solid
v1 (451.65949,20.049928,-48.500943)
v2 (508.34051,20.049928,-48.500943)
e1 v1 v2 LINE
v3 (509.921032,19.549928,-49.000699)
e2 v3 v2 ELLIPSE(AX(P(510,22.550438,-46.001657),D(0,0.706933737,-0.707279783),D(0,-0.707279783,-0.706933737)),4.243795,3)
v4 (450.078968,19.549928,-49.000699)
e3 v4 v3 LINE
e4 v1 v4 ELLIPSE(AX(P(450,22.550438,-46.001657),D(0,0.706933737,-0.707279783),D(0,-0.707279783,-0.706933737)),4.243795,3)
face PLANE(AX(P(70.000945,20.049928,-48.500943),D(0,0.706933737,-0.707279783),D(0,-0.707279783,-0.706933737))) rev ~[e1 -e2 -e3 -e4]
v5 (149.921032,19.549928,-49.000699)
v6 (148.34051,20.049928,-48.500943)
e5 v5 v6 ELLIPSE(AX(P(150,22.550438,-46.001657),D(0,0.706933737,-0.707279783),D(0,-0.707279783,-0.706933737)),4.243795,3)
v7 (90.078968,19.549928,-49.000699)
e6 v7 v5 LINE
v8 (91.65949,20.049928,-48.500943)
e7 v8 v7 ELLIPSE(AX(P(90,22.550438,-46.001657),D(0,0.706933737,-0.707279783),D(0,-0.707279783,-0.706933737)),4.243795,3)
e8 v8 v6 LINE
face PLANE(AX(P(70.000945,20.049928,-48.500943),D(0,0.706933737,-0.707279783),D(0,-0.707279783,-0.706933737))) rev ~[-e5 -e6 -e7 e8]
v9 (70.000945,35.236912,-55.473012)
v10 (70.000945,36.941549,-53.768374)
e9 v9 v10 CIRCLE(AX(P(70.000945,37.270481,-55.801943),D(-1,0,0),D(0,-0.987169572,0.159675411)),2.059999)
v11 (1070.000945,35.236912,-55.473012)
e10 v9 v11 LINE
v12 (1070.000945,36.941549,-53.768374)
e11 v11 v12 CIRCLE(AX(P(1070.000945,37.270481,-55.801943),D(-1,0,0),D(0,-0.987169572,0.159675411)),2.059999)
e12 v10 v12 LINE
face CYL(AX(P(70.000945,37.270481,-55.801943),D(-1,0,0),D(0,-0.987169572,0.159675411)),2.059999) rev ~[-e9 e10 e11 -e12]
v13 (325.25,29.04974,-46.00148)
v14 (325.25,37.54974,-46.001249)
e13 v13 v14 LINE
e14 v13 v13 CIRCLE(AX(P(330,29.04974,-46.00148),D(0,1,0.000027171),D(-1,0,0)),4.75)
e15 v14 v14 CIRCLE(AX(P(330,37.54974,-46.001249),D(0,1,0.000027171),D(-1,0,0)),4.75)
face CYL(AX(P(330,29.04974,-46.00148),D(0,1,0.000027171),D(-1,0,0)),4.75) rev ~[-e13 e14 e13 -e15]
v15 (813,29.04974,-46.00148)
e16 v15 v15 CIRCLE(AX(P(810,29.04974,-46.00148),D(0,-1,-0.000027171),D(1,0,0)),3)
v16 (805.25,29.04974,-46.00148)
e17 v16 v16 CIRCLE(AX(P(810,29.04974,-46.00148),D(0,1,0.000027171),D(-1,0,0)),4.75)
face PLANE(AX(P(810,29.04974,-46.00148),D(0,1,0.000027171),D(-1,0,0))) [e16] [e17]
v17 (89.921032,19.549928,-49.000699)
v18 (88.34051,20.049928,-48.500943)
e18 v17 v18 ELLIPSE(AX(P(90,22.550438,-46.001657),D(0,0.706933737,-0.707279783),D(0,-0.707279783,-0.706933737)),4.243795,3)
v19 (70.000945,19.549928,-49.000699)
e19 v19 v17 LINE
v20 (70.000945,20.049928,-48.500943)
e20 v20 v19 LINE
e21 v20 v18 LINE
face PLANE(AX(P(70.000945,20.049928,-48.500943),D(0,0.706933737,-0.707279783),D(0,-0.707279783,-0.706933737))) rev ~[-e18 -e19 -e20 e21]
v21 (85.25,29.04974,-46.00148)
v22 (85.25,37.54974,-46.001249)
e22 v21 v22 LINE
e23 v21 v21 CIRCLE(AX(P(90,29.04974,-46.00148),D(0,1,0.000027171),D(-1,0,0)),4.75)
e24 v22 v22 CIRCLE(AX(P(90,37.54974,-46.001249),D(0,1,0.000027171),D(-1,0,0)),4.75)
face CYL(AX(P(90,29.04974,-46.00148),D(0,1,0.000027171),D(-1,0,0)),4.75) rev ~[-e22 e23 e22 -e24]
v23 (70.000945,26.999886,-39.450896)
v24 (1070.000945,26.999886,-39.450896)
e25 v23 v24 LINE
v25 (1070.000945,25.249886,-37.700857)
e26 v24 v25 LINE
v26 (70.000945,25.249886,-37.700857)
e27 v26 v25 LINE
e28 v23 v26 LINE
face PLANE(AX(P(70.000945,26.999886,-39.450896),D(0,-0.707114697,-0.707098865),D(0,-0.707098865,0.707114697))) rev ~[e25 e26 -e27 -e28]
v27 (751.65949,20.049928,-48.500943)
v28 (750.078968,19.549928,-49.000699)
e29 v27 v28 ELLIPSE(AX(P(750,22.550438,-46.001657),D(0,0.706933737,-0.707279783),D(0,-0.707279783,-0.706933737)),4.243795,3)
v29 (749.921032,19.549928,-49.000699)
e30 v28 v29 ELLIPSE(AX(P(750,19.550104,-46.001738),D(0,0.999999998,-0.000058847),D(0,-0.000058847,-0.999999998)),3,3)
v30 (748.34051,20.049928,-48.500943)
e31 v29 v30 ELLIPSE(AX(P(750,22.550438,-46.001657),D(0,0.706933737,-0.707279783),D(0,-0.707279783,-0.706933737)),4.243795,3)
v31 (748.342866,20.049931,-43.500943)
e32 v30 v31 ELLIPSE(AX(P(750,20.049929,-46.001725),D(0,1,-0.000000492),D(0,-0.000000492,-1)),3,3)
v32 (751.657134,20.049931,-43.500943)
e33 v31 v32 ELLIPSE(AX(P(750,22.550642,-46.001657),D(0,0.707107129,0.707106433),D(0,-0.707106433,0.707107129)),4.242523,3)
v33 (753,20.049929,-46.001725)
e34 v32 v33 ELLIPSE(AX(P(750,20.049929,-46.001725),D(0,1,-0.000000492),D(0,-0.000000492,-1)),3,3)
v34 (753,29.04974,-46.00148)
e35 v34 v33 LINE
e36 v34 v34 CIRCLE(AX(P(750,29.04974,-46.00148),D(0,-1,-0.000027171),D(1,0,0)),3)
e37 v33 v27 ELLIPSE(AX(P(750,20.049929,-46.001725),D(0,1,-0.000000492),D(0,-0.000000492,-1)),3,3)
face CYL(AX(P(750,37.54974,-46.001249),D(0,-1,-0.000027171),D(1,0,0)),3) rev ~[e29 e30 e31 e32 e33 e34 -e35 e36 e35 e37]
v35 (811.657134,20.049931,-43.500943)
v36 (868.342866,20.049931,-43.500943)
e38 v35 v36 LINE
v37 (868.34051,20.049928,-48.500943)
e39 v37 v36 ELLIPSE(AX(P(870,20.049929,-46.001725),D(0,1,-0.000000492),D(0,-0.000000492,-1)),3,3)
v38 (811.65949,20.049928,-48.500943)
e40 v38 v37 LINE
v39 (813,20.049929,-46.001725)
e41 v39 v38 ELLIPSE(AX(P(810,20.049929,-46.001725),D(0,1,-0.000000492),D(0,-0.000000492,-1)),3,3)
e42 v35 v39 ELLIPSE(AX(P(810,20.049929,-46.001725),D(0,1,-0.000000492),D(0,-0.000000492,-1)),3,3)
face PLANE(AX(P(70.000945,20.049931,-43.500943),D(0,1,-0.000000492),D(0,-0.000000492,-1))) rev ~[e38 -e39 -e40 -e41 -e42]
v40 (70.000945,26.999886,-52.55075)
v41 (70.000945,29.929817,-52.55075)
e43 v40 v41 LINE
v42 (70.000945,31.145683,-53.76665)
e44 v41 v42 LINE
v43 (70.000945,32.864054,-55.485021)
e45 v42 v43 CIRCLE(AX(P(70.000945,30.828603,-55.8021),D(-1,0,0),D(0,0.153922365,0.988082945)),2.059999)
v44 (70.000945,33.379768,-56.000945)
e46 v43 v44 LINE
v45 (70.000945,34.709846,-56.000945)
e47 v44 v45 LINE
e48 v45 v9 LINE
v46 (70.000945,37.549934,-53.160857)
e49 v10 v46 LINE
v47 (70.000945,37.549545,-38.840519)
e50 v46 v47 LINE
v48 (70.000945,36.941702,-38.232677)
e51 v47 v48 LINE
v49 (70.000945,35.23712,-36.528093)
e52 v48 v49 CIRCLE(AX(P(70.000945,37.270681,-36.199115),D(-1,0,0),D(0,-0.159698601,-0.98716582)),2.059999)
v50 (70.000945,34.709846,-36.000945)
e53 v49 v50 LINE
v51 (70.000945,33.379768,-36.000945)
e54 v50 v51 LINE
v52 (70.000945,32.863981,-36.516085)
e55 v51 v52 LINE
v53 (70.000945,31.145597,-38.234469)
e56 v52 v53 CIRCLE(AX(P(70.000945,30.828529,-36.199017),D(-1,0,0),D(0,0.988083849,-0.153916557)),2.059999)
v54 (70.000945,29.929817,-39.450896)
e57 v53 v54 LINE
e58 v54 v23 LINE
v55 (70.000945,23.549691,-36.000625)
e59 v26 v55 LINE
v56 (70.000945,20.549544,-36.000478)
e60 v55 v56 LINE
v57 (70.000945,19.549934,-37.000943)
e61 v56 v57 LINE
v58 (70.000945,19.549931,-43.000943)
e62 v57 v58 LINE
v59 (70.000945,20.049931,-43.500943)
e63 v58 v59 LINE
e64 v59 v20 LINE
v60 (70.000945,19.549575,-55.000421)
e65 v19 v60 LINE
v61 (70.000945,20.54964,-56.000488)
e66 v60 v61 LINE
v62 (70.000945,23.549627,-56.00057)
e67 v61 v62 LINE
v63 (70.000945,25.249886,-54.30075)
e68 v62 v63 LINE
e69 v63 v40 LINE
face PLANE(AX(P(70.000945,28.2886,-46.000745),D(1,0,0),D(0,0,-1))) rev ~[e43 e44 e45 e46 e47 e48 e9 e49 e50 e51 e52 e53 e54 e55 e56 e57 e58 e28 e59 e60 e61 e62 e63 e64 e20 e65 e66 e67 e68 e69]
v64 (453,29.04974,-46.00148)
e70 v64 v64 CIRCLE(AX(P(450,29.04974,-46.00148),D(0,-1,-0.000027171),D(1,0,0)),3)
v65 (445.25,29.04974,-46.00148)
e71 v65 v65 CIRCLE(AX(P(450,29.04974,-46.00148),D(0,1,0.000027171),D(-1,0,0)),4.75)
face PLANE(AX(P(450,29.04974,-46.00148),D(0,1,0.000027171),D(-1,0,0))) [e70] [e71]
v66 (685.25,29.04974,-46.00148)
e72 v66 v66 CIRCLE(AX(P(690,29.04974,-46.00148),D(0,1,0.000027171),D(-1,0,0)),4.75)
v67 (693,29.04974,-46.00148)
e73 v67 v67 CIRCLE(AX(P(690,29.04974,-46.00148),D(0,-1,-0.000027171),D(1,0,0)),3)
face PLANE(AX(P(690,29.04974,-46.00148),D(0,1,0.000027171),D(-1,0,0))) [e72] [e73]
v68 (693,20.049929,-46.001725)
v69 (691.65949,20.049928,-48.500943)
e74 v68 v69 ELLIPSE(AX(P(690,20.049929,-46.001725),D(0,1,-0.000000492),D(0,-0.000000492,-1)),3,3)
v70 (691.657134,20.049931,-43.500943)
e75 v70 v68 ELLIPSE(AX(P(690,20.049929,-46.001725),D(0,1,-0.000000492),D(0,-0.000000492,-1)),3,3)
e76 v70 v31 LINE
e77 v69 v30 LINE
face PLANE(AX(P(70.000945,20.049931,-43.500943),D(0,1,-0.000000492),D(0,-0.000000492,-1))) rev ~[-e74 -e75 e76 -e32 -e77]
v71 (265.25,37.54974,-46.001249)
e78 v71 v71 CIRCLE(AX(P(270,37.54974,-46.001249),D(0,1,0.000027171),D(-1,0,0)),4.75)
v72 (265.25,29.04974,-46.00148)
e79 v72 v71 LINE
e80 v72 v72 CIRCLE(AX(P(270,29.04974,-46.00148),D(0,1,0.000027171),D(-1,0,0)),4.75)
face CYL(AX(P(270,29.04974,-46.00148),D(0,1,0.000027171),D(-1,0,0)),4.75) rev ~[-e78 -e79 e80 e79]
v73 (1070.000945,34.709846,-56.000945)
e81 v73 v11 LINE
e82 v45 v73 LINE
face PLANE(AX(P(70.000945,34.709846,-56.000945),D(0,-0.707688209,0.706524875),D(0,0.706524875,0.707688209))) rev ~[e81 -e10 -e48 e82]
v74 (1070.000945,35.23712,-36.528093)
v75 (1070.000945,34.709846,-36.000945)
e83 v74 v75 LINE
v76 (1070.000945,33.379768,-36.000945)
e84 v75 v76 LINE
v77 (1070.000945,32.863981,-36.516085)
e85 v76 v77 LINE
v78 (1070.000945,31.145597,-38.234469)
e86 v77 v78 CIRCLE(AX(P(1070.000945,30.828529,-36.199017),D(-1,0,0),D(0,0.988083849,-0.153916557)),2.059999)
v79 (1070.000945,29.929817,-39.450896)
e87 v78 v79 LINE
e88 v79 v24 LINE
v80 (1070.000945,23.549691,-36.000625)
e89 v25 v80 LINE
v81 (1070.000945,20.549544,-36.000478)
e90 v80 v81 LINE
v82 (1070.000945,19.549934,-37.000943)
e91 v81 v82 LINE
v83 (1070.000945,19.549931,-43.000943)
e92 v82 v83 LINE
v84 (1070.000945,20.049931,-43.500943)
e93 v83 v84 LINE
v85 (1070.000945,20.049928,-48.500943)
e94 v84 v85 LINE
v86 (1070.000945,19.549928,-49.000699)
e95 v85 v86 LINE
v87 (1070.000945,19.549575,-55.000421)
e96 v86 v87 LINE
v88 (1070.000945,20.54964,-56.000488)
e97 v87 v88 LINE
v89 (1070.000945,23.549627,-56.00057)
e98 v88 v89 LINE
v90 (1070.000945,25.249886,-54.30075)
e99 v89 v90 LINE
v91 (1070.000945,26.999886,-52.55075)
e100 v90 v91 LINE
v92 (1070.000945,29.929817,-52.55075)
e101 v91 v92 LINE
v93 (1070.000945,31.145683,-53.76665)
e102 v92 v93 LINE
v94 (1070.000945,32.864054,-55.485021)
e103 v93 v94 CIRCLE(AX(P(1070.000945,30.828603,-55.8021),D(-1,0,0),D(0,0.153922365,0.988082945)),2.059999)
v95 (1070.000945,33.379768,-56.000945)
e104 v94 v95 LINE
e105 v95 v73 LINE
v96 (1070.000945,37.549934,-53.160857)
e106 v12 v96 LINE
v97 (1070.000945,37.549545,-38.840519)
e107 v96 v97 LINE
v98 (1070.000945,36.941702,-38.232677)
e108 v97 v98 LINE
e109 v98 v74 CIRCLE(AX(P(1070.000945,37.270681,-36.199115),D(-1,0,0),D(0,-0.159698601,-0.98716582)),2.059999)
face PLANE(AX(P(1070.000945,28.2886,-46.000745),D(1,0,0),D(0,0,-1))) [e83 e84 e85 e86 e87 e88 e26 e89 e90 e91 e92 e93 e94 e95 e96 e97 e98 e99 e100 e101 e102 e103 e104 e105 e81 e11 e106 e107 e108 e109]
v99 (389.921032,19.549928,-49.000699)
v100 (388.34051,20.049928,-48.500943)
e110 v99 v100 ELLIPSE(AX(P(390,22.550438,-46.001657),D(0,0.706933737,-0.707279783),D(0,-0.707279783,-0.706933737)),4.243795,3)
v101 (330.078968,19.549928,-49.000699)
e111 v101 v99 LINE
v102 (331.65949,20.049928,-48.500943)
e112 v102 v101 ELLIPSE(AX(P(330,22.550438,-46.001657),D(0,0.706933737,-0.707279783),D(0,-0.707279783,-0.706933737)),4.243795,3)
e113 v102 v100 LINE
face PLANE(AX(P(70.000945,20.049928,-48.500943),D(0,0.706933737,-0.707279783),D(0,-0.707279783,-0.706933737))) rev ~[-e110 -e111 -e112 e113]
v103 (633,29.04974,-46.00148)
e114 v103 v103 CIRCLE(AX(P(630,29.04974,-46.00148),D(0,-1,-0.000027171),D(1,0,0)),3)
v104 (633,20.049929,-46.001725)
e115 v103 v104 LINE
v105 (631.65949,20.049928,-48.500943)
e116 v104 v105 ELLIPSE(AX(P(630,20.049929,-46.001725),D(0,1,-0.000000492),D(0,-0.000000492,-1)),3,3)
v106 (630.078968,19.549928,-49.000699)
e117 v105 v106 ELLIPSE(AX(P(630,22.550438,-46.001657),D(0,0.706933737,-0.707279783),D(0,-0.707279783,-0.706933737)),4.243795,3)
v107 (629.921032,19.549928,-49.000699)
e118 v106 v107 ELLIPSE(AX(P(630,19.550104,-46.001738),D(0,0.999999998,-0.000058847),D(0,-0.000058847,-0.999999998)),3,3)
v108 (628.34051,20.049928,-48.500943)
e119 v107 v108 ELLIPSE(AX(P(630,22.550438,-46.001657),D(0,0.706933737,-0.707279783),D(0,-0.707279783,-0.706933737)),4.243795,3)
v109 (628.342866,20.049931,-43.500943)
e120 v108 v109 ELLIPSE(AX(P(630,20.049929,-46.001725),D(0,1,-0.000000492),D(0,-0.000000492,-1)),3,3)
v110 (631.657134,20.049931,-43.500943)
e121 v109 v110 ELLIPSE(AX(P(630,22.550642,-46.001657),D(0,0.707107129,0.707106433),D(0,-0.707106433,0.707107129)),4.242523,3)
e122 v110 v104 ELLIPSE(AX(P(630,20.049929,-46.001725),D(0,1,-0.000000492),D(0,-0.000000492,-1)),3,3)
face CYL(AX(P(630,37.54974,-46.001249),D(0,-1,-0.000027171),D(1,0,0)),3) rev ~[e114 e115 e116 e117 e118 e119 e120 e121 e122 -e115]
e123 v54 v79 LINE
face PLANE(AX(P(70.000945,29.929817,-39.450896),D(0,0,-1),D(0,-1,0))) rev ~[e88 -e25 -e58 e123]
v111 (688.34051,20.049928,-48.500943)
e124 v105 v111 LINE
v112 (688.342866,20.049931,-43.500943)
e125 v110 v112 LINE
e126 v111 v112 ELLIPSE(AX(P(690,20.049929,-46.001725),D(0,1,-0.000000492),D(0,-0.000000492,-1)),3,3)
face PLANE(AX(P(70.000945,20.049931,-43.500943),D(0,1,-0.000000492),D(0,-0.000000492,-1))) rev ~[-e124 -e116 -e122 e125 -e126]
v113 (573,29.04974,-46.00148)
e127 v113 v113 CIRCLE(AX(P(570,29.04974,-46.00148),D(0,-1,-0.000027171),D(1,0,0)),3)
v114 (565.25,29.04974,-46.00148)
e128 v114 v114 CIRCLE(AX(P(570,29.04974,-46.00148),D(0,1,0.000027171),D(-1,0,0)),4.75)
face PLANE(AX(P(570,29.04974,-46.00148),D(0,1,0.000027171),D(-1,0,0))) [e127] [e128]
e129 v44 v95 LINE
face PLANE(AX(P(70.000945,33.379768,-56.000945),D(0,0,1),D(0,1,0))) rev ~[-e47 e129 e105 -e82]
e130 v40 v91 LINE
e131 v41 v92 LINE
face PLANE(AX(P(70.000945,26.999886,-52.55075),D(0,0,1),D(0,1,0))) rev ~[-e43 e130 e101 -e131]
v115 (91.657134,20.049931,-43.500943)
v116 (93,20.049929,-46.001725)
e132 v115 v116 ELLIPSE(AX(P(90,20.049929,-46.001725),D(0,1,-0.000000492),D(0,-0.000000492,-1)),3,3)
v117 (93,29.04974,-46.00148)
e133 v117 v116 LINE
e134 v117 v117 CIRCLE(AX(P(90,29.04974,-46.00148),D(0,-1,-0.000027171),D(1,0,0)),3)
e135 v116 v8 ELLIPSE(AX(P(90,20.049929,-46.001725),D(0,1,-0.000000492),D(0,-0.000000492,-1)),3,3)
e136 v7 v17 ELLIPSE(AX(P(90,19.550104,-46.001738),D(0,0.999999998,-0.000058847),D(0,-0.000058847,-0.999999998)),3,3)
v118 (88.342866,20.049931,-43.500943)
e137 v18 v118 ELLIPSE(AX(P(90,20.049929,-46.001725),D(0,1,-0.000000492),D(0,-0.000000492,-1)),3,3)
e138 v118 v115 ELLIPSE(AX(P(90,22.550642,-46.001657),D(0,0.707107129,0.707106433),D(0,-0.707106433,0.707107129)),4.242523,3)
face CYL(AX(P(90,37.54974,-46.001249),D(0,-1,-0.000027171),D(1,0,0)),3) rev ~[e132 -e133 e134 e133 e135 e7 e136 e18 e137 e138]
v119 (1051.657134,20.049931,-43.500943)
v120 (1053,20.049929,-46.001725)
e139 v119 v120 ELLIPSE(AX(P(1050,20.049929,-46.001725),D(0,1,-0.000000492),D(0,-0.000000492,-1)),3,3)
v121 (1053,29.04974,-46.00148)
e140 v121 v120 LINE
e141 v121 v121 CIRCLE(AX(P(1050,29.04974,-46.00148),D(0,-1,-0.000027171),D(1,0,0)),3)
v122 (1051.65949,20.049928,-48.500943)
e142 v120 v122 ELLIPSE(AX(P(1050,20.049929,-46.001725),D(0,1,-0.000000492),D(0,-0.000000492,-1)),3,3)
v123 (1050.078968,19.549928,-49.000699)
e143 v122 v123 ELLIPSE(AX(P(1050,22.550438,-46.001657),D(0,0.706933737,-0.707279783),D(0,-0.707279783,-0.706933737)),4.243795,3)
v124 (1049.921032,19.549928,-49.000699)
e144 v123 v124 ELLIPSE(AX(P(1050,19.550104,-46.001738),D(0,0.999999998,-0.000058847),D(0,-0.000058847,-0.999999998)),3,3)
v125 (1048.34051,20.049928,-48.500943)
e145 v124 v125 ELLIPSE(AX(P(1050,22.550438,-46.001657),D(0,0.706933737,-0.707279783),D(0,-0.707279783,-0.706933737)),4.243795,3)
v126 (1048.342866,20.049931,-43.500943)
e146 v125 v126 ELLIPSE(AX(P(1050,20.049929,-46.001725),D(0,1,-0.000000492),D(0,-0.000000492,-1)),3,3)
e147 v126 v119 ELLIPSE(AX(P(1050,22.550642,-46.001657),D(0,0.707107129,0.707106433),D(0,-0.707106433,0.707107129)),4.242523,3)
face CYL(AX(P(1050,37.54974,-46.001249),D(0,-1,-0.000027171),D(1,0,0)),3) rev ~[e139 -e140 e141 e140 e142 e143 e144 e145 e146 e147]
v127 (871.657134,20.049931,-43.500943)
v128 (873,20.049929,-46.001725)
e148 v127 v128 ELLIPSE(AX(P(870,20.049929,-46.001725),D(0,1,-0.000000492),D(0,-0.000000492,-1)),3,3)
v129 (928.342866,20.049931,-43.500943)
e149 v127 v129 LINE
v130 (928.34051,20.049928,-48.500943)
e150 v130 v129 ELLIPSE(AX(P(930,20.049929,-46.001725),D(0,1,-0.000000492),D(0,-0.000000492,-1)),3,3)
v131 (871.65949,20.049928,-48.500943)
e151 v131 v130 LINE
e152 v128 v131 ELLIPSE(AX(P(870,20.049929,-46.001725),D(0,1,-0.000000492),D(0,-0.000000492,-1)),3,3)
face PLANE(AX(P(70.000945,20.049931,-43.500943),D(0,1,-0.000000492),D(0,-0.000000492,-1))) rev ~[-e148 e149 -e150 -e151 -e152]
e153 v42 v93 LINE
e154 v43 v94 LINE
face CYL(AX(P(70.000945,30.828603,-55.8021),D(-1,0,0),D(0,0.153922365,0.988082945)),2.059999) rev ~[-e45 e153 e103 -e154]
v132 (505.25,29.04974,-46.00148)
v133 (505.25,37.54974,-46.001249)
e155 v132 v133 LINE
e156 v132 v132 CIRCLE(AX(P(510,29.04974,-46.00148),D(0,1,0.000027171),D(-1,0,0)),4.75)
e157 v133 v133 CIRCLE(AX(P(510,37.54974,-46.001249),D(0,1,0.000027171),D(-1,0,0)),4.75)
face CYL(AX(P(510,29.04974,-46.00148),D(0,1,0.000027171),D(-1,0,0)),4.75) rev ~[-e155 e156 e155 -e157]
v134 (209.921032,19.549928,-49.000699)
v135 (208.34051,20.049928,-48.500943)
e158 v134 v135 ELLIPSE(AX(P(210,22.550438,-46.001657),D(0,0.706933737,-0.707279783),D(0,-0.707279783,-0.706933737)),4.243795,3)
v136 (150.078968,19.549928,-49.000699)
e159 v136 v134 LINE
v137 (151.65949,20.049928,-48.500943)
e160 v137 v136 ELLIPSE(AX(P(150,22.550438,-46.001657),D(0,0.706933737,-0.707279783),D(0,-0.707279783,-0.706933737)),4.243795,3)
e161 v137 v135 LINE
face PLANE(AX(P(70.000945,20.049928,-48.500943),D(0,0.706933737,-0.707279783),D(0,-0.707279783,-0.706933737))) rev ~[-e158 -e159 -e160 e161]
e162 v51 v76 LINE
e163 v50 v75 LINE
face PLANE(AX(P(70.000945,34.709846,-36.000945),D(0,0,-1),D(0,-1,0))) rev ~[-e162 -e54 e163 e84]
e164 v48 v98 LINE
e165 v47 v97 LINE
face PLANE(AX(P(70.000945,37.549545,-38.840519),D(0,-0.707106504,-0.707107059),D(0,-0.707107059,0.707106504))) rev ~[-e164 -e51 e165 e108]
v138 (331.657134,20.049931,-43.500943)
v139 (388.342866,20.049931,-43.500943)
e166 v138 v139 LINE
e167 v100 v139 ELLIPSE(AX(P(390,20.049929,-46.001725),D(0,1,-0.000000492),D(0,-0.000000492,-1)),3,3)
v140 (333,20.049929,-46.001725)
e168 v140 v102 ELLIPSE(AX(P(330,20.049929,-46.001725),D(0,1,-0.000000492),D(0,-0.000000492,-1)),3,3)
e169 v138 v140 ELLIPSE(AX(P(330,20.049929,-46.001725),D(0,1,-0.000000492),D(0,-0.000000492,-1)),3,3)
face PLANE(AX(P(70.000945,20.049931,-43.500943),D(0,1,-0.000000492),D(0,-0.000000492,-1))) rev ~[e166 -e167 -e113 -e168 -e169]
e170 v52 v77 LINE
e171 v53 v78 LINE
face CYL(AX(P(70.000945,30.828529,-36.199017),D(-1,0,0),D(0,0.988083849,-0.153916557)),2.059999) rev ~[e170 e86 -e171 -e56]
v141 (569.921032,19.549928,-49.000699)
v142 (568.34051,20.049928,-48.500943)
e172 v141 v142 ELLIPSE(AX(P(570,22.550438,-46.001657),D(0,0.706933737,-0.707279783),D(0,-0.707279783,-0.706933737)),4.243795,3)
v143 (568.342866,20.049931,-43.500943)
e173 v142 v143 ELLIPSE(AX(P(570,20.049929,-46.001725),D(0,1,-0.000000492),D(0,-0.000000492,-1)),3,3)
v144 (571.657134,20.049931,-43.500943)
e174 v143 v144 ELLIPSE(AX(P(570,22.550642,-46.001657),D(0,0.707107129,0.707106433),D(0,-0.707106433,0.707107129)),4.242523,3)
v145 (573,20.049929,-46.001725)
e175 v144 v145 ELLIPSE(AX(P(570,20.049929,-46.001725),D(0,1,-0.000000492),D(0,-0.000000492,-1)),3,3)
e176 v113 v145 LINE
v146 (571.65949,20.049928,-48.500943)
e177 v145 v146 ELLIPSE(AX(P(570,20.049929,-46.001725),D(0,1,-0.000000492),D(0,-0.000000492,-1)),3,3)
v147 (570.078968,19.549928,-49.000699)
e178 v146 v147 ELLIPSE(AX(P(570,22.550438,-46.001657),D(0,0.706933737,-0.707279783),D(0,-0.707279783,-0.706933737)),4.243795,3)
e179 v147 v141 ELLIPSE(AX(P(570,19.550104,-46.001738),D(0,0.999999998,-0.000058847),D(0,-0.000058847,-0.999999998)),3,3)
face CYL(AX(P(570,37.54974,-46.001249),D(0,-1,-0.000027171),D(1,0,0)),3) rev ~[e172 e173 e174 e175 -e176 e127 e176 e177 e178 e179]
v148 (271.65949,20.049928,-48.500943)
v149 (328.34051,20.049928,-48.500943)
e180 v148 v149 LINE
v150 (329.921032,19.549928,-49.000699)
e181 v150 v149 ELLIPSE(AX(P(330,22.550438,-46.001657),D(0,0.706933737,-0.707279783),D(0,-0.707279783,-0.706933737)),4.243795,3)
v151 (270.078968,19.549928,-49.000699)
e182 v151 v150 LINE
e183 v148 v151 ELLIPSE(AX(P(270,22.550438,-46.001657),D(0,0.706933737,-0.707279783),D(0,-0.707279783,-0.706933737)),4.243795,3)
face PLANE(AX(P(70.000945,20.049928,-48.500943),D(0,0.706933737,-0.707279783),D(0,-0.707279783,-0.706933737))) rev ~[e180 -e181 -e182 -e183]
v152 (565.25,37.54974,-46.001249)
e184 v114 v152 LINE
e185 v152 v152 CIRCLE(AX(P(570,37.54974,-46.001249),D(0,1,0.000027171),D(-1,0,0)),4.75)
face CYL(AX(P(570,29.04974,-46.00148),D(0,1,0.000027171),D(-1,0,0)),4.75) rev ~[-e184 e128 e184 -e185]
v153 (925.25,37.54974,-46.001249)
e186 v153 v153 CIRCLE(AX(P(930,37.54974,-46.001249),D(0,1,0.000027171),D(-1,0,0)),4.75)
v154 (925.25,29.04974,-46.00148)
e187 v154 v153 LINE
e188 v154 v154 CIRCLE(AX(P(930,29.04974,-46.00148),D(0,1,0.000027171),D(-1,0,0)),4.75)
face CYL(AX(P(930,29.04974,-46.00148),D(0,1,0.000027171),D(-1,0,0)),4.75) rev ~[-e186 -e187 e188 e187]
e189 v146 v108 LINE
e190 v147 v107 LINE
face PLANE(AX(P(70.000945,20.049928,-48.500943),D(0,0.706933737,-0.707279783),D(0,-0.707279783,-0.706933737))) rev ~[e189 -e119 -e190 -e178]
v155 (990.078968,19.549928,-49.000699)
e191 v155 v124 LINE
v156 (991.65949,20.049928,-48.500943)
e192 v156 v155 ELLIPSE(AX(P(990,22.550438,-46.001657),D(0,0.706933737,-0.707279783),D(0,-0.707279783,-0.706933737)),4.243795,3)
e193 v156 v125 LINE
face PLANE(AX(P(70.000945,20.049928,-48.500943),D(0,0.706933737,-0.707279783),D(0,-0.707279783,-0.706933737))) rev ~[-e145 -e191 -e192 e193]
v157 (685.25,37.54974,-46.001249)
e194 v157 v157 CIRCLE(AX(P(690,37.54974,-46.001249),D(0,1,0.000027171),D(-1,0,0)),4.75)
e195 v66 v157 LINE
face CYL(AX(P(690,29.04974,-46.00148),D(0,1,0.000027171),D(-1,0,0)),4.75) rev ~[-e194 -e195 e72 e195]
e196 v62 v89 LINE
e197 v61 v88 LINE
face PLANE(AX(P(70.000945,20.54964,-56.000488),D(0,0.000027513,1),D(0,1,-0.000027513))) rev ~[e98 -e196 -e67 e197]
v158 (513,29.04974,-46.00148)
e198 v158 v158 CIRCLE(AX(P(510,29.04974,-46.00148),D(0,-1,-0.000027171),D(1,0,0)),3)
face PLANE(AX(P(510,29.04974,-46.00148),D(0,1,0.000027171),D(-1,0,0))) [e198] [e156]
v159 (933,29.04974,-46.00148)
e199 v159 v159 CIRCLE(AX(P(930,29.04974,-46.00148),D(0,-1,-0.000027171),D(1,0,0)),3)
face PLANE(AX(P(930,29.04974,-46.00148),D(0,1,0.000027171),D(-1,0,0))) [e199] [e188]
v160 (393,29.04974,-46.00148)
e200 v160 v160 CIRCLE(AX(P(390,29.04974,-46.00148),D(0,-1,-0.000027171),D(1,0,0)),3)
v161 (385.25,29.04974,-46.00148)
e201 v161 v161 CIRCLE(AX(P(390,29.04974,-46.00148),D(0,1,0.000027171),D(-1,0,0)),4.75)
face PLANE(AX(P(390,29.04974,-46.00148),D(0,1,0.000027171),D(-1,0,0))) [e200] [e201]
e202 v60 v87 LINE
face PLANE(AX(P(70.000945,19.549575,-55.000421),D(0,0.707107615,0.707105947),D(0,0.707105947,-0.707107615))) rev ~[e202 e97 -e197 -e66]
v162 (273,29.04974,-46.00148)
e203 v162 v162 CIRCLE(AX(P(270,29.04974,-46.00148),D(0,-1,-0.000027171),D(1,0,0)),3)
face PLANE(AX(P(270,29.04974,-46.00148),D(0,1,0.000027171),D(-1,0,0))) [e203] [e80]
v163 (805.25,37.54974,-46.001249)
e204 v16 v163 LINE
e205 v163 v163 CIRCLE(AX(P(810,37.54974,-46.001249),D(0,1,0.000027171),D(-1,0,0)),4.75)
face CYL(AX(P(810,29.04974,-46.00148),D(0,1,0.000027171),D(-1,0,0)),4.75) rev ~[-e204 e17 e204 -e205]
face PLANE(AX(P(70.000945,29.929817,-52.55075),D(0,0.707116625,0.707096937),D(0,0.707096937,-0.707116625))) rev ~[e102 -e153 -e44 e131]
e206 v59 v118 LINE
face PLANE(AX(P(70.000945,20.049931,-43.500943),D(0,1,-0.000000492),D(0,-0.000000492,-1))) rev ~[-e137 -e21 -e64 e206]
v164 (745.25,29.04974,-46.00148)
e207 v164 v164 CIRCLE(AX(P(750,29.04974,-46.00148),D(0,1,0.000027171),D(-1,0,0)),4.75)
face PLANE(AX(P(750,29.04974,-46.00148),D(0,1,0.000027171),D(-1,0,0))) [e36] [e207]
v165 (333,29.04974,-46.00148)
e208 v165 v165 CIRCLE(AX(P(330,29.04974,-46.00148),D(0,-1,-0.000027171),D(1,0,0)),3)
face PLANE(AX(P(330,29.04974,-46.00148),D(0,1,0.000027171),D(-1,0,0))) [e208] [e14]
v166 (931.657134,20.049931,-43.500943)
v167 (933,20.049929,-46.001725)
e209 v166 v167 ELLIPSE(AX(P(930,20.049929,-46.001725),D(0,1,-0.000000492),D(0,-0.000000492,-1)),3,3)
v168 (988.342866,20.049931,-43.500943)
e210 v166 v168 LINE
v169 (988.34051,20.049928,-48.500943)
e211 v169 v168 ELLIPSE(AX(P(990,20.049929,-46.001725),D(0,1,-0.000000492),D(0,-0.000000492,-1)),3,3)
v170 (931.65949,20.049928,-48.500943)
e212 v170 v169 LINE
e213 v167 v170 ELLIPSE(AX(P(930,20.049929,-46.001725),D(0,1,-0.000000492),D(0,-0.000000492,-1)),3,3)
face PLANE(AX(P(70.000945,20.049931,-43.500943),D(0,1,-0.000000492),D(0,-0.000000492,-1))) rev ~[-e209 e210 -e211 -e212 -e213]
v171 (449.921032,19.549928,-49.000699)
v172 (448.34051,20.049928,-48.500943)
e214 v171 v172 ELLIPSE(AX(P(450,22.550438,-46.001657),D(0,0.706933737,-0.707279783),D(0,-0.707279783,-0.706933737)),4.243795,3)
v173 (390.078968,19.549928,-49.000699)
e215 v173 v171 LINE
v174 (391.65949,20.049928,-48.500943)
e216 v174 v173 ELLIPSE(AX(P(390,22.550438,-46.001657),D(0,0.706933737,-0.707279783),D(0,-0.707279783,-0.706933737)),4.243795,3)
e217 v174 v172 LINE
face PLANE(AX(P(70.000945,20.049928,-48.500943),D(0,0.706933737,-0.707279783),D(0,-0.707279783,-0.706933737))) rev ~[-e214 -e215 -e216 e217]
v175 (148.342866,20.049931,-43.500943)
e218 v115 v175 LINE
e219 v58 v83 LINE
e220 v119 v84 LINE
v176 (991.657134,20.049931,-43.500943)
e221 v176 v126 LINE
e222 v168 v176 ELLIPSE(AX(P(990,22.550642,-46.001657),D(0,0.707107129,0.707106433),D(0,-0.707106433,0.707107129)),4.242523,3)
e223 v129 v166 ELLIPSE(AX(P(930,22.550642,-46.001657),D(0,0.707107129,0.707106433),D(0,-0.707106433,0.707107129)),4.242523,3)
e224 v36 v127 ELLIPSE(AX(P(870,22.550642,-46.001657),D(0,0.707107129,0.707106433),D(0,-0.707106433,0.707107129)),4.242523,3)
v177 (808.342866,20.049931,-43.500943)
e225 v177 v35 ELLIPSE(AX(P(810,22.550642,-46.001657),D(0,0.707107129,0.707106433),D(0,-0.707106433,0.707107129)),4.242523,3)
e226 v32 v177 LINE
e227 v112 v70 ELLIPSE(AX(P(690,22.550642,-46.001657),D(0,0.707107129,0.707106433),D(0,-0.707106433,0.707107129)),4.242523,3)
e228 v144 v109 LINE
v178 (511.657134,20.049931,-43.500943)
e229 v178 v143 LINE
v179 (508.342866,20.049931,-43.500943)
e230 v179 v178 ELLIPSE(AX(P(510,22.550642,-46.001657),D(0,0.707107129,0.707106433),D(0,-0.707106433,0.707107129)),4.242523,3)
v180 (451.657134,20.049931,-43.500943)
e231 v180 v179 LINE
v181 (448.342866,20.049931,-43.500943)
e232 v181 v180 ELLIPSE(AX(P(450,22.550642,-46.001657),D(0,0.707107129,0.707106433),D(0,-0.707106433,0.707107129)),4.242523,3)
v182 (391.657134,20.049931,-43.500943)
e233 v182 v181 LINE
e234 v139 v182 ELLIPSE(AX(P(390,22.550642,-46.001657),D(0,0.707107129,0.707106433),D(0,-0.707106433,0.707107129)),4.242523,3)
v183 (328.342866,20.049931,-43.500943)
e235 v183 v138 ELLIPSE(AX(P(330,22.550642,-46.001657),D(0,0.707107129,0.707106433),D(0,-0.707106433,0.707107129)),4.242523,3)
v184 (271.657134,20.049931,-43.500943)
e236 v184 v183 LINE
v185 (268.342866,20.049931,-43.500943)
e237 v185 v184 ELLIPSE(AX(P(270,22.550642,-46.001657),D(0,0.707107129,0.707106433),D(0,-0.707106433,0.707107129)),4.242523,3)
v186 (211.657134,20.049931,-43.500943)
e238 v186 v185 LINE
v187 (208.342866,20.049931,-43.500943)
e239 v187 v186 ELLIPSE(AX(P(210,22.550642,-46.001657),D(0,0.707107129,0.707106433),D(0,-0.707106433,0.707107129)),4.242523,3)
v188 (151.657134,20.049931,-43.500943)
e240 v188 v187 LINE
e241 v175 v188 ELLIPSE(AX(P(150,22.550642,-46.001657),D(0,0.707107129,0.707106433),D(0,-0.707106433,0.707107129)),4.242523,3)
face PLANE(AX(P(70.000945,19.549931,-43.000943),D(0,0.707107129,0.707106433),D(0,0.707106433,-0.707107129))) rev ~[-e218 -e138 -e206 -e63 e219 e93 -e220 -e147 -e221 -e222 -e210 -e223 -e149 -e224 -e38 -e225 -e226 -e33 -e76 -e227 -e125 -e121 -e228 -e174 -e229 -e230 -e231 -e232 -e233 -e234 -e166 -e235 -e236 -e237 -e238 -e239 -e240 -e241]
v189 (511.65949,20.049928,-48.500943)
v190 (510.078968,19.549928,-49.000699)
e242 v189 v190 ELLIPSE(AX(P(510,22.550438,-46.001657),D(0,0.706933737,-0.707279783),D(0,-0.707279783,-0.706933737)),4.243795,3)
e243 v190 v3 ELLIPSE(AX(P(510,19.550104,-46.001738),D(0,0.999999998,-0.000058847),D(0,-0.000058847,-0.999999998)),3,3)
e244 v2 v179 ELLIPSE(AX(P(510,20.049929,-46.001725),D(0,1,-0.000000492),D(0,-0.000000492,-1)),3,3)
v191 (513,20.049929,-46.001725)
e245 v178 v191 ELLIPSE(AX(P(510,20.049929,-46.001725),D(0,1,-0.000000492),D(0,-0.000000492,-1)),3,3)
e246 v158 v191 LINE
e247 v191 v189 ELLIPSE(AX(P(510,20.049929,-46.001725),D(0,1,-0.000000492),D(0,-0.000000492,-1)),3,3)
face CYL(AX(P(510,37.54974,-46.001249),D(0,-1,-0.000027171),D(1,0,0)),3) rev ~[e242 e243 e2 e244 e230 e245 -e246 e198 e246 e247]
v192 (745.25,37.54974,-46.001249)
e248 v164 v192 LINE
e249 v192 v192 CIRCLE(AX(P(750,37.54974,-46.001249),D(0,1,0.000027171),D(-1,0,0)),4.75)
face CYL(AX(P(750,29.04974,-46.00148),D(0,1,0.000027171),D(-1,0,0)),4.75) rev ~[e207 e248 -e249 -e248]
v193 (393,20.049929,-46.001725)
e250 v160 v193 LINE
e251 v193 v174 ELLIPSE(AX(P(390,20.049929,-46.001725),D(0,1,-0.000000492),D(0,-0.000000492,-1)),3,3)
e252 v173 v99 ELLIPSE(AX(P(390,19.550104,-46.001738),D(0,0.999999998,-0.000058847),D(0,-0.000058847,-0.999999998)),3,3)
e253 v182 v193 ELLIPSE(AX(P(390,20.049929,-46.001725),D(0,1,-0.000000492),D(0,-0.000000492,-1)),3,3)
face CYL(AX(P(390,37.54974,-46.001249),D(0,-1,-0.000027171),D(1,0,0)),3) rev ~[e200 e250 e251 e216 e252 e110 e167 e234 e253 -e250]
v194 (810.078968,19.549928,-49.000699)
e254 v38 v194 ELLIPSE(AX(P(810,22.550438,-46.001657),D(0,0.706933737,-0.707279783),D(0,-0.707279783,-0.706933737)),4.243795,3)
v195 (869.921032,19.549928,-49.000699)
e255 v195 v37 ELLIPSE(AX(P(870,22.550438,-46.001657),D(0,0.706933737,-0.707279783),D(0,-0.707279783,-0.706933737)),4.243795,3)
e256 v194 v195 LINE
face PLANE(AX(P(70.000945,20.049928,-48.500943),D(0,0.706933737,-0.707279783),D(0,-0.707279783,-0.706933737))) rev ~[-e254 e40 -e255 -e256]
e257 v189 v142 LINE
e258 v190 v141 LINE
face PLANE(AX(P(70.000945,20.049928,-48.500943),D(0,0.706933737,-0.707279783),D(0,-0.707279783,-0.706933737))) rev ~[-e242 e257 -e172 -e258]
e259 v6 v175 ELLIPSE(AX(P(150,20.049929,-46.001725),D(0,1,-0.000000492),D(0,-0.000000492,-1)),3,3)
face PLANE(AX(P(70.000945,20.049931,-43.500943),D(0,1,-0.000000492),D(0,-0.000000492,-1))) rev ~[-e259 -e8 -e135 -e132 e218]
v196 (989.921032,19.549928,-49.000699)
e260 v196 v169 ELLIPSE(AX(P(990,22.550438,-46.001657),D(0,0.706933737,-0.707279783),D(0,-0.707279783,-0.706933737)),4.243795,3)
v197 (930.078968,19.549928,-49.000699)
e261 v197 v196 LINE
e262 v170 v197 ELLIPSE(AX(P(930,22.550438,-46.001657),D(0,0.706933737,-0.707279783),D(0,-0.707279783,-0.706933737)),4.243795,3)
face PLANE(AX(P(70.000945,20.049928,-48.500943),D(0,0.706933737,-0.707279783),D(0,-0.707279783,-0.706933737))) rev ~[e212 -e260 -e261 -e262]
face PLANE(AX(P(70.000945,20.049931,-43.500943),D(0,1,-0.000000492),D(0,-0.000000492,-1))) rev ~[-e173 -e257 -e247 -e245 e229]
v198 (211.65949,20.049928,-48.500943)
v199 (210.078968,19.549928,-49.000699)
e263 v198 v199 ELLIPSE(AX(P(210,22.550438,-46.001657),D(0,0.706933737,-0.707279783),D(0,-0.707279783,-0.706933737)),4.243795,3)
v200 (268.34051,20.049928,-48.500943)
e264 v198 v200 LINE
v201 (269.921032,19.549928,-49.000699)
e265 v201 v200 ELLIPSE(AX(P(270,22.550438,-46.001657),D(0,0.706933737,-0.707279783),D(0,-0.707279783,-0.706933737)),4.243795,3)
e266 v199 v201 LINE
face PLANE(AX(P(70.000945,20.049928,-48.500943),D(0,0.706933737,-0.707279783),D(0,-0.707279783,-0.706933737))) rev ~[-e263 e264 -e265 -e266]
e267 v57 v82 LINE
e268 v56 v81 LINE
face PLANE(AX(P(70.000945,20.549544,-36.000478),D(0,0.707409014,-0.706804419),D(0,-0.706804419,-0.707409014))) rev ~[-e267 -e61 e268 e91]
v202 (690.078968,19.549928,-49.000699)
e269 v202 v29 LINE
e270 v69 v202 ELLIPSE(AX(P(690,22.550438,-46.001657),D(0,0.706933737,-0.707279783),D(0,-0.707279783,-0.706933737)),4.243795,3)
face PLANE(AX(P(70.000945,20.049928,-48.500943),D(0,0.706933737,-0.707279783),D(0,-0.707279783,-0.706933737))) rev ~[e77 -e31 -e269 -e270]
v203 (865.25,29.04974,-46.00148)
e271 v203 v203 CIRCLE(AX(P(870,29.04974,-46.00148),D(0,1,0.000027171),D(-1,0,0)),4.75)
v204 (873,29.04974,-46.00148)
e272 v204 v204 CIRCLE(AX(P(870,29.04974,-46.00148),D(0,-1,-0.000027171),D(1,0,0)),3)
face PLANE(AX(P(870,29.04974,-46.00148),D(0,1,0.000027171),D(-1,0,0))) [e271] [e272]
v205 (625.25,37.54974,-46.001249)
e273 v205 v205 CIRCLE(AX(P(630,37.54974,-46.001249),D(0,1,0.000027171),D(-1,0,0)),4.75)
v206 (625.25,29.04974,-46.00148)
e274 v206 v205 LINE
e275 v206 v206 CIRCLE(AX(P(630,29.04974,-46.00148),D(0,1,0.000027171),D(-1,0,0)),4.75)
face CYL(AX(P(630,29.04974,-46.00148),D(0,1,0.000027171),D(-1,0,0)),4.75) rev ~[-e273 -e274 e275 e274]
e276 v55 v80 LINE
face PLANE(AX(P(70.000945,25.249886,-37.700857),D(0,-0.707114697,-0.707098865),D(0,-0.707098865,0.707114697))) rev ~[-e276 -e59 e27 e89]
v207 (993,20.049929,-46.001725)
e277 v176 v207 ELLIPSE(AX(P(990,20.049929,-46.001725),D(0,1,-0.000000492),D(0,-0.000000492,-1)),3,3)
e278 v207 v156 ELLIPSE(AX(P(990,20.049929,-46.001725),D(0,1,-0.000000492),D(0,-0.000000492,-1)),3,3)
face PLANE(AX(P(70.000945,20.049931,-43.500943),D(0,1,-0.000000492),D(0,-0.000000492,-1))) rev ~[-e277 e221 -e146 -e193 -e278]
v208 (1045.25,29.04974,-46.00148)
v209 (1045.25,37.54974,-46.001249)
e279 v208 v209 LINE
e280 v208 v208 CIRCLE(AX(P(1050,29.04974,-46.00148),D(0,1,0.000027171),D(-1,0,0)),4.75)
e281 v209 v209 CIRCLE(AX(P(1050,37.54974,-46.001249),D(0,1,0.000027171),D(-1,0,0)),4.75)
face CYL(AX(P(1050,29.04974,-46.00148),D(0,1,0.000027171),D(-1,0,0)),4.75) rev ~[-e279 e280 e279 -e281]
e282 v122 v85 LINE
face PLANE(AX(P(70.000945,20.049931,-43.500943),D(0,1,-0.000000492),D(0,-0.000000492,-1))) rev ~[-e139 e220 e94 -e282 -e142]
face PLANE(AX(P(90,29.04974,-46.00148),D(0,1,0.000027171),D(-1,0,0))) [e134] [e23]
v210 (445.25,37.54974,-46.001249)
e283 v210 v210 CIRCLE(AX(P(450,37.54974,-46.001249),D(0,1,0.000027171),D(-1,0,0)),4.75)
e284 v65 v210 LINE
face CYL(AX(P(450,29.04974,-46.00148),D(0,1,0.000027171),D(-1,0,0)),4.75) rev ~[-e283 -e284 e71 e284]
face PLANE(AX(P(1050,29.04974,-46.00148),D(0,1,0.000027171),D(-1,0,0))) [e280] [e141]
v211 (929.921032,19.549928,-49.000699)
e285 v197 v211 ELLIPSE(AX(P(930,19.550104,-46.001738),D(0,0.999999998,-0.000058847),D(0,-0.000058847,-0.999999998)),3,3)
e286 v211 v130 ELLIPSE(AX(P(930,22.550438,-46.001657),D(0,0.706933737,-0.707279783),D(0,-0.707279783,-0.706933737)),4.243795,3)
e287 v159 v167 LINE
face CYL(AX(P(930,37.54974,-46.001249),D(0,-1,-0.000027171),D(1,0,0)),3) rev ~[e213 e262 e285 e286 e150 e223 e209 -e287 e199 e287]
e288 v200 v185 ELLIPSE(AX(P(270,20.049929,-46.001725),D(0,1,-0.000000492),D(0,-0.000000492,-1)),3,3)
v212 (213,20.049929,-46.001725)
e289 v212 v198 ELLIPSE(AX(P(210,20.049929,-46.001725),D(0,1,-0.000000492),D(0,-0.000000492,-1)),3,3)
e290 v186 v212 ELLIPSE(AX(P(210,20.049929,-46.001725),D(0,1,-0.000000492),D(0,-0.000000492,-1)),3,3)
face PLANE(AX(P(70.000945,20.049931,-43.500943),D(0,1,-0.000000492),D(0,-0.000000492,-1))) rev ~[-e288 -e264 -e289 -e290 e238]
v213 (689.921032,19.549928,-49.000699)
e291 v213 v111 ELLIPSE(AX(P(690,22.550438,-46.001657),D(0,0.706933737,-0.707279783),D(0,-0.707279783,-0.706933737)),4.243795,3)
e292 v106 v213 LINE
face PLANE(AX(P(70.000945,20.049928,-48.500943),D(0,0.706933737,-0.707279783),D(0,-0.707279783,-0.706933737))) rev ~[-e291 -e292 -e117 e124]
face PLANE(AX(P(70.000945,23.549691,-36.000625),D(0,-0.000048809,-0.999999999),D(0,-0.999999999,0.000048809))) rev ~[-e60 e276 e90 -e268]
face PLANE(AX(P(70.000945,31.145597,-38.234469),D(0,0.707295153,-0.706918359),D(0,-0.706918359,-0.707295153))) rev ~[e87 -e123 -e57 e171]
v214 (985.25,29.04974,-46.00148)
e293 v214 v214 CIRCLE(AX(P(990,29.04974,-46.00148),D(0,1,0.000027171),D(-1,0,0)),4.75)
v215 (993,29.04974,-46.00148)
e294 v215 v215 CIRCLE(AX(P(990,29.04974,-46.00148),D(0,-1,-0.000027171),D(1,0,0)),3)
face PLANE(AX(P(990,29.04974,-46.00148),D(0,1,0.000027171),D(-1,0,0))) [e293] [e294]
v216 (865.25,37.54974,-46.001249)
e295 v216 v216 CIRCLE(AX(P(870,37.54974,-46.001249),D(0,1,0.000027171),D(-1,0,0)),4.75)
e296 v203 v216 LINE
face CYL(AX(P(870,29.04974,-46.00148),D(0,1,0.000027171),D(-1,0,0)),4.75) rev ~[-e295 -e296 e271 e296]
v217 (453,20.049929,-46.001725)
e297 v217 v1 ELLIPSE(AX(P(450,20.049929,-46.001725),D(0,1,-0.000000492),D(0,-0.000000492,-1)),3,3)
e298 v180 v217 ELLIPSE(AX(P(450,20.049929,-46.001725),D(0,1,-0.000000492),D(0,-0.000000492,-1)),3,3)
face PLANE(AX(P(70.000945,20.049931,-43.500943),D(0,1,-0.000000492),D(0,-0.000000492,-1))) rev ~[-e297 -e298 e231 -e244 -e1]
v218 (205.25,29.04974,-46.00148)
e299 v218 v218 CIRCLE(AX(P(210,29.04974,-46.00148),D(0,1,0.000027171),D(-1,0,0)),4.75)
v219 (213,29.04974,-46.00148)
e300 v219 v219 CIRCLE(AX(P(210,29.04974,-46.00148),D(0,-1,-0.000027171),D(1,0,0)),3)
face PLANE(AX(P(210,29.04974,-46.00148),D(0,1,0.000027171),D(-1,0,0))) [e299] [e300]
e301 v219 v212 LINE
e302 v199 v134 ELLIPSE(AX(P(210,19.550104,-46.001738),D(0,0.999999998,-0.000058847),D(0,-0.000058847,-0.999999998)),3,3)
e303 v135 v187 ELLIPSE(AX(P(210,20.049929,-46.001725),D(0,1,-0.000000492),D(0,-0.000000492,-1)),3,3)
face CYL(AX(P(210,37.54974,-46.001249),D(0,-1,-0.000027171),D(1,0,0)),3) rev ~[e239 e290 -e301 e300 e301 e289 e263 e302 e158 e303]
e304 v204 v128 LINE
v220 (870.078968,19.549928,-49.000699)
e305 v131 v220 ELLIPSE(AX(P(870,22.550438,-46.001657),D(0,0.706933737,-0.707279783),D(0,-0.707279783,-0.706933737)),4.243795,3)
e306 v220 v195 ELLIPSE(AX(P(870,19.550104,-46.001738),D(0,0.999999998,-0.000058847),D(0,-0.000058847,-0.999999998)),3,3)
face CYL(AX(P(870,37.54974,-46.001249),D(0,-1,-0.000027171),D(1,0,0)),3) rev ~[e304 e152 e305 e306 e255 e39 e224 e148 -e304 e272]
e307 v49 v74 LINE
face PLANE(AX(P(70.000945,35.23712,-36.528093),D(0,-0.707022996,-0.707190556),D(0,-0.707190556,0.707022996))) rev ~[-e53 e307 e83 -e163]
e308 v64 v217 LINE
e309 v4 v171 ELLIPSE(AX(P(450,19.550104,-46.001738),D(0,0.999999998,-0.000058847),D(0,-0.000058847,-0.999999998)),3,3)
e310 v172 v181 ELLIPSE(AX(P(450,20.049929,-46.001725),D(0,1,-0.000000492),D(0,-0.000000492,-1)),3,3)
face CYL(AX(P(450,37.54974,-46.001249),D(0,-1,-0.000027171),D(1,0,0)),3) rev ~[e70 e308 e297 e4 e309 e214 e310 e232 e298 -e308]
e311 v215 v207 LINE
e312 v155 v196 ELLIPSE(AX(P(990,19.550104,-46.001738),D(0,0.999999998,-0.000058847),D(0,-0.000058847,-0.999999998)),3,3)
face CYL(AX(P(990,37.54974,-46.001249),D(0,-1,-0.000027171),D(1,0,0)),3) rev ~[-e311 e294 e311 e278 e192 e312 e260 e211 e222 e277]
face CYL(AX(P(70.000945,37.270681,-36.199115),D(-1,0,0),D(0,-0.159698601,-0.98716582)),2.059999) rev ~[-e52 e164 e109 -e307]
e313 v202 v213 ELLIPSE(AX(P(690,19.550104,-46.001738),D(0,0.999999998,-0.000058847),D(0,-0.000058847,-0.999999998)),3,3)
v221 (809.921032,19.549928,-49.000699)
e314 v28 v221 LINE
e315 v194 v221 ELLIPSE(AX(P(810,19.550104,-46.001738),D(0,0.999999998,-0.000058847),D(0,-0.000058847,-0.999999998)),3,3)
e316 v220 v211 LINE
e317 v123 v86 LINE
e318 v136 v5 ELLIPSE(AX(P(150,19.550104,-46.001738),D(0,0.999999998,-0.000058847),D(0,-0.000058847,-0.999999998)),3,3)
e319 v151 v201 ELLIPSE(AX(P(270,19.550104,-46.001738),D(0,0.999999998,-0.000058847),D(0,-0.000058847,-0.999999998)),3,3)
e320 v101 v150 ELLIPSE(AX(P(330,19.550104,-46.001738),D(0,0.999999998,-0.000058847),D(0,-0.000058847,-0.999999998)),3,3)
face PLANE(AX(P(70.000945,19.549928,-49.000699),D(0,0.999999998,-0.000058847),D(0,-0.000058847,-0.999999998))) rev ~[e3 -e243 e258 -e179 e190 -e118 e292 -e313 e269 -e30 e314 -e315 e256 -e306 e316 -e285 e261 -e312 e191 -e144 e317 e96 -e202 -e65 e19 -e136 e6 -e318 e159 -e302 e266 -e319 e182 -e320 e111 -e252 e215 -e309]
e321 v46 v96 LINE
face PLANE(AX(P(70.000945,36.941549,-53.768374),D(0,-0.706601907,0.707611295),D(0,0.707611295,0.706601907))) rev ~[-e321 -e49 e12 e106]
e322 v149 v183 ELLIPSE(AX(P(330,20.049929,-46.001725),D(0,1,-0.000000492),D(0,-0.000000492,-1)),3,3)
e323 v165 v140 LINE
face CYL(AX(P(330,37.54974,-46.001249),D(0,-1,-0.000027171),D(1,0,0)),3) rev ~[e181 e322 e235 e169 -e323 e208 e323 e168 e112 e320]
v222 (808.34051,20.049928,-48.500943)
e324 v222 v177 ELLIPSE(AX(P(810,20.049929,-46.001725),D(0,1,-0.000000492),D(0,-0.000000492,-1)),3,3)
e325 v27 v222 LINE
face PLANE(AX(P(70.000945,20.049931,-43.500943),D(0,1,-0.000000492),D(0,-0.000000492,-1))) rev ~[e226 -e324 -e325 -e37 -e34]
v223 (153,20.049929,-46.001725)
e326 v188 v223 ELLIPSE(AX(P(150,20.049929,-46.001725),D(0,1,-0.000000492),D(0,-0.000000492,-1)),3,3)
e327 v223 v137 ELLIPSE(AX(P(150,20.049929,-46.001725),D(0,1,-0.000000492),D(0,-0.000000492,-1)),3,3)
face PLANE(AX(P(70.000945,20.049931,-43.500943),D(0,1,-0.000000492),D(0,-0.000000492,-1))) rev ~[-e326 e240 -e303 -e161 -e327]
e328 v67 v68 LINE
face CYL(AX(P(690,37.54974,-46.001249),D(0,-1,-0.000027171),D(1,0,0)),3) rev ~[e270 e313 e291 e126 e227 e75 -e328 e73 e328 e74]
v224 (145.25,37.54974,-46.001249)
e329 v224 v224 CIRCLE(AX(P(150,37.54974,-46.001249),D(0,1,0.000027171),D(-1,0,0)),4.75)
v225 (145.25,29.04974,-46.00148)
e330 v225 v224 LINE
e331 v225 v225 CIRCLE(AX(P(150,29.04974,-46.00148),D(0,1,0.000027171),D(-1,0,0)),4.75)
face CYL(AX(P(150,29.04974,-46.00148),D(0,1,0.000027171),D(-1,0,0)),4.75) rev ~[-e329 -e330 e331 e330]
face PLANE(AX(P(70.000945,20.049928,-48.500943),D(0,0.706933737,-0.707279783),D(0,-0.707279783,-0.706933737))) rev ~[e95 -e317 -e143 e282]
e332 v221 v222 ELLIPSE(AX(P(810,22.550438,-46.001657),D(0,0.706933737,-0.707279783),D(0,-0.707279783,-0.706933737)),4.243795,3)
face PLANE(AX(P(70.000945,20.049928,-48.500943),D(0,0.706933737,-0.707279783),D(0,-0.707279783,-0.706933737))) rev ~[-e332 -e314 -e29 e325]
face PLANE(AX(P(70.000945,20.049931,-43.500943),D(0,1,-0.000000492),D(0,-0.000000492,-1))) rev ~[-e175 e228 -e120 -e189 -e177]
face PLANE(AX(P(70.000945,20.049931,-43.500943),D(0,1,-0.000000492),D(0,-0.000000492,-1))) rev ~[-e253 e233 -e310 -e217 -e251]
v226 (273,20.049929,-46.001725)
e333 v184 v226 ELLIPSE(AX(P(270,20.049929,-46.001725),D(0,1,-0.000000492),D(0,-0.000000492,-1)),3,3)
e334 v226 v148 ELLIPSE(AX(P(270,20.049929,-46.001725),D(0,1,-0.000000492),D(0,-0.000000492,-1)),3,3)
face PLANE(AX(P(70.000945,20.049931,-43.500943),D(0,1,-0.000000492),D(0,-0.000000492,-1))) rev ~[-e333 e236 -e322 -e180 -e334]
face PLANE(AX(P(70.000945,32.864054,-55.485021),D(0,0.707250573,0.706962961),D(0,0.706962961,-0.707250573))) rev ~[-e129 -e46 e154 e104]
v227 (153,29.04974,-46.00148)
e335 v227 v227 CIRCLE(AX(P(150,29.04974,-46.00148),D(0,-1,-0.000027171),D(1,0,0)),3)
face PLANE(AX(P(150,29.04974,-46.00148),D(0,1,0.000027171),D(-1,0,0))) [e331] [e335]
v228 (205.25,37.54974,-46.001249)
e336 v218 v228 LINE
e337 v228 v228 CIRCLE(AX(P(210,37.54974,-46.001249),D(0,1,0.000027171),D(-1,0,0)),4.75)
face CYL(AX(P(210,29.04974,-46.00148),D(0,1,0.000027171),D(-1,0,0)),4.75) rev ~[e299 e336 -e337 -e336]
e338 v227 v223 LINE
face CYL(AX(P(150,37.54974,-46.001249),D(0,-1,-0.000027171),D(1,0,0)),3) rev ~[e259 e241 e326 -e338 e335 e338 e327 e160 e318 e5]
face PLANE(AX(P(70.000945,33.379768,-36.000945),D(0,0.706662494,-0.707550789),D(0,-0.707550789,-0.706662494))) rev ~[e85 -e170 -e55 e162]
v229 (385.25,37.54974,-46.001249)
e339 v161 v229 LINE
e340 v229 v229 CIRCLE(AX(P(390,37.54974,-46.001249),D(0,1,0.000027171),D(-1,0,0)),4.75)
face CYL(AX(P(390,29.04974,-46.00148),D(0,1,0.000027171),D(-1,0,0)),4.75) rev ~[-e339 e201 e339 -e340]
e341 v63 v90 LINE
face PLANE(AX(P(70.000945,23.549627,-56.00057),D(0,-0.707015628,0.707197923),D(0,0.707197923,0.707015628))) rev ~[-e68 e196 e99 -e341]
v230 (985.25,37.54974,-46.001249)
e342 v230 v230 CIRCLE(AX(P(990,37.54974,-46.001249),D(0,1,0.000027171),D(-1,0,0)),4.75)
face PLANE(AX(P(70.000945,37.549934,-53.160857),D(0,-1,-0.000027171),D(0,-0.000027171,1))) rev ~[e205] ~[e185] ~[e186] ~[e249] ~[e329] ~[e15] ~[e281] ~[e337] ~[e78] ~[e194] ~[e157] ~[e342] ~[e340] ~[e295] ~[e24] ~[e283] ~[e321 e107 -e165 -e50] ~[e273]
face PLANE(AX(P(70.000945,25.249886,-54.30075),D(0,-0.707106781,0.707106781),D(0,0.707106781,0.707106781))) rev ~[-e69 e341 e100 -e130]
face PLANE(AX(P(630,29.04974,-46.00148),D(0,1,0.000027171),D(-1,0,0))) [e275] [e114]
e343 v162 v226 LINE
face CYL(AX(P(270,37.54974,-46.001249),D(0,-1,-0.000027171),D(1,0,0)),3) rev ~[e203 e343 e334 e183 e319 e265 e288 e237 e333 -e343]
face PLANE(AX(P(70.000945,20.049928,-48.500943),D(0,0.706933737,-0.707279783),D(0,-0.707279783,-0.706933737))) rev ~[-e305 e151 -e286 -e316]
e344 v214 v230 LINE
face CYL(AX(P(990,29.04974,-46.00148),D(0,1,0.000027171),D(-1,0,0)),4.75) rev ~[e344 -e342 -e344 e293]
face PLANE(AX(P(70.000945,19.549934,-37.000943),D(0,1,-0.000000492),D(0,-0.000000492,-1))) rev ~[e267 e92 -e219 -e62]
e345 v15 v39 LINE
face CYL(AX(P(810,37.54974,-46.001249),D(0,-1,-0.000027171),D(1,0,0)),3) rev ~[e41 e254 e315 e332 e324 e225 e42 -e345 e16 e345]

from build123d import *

# Parameters (mm, degrees)
BOSS_EXTRUDE16_DEPTH           = 1000
CBORE_FOR_M3_SHCS1_D           = 6
CBORE_FOR_M3_SHCS1_CBORE_D     = 9.5
CBORE_FOR_M3_SHCS1_CBORE_DEPTH = 8.5
LPATTERN1_COUNT                = 17
LPATTERN1_PITCH                = 60


with BuildPart() as part:
    # Sketch23 → Boss-Extrude16 (new body)
    with BuildSketch(Plane.ZY.offset(-70.000945091)):
        with BuildLine():
            Line((-49.000698983, 19.549927993), (-55.00042051, 19.549574928))
            Line((-55.00042051, 19.549574928), (-56.000487759, 20.549639818))
            Line((-56.000487759, 20.549639818), (-56.000570297, 23.549626764))
            Line((-56.000570297, 23.549626764), (-54.300749779, 25.249885559))
            Line((-54.300749779, 25.249885559), (-52.550749779, 26.999885559))
            Line((-52.550749779, 26.999885559), (-52.550749779, 29.9298172))
            Line((-52.550749779, 29.9298172), (-53.766649723, 31.145683289))
            ThreePointArc((-53.766649723, 31.145683289), (-54.345460672, 32.285243093), (-55.485020638, 32.864053726))
            Line((-55.485020638, 32.864053726), (-56.000945091, 33.379768372))
            Line((-56.000945091, 33.379768372), (-56.000945091, 34.709846497))
            Line((-56.000945091, 34.709846497), (-55.473011971, 35.236911774))
            ThreePointArc((-55.473011971, 35.236911774), (-54.345303642, 35.813840972), (-53.768374443, 36.941549301))
            Line((-53.768374443, 36.941549301), (-53.160857201, 37.549934387))
            Line((-53.160857201, 37.549934387), (-38.840519428, 37.549545288))
            Line((-38.840519428, 37.549545288), (-38.232676506, 36.941701889))
            ThreePointArc((-38.232676506, 36.941701889), (-37.655754627, 35.814040922), (-36.528093338, 35.237119675))
            Line((-36.528093338, 35.237119675), (-36.000945091, 34.709846497))
            Line((-36.000945091, 34.709846497), (-36.000945091, 33.379768372))
            Line((-36.000945091, 33.379768372), (-36.516084671, 32.863981247))
            ThreePointArc((-36.516084671, 32.863981247), (-37.65565644, 32.285168434), (-38.234468937, 31.145596504))
            Line((-38.234468937, 31.145596504), (-39.450896263, 29.9298172))
            Line((-39.450896263, 29.9298172), (-39.450896263, 26.999885559))
            Line((-39.450896263, 26.999885559), (-37.700857082, 25.249885559))
            Line((-37.700857082, 25.249885559), (-36.000624657, 23.5496912))
            Line((-36.000624657, 23.5496912), (-36.000478222, 20.549543738))
            Line((-36.000478222, 20.549543738), (-37.000943124, 19.549933895))
            Line((-37.000943124, 19.549933895), (-43.000943124, 19.549930944))
            Line((-43.000943124, 19.549930944), (-43.50094337, 20.049930698))
            Line((-43.50094337, 20.049930698), (-48.50094337, 20.049928238))
            Line((-48.50094337, 20.049928238), (-49.000698983, 19.549927993))
        make_face()
    extrude(amount=-BOSS_EXTRUDE16_DEPTH)

    # CBORE for M3 SHCS1 (through all)
    with Locations(Plane(origin=(0, 37.548489921, 0.001020233), x_dir=(-1, 0, 0), z_dir=(0, 0.9999999996308662, 2.717108542433418e-05))):
        with Locations((-90, -46.002269662)):
            cbore_for_m3_shcs1 = CounterBoreHole(CBORE_FOR_M3_SHCS1_D / 2, CBORE_FOR_M3_SHCS1_CBORE_D / 2, CBORE_FOR_M3_SHCS1_CBORE_DEPTH)

    # LPattern1: CBORE for M3 SHCS1 ×17
    with Locations(*[(i * LPATTERN1_PITCH, 0, 0) for i in range(1, LPATTERN1_COUNT)]):
        add(cbore_for_m3_shcs1, mode=Mode.SUBTRACT)


solid = part.part
